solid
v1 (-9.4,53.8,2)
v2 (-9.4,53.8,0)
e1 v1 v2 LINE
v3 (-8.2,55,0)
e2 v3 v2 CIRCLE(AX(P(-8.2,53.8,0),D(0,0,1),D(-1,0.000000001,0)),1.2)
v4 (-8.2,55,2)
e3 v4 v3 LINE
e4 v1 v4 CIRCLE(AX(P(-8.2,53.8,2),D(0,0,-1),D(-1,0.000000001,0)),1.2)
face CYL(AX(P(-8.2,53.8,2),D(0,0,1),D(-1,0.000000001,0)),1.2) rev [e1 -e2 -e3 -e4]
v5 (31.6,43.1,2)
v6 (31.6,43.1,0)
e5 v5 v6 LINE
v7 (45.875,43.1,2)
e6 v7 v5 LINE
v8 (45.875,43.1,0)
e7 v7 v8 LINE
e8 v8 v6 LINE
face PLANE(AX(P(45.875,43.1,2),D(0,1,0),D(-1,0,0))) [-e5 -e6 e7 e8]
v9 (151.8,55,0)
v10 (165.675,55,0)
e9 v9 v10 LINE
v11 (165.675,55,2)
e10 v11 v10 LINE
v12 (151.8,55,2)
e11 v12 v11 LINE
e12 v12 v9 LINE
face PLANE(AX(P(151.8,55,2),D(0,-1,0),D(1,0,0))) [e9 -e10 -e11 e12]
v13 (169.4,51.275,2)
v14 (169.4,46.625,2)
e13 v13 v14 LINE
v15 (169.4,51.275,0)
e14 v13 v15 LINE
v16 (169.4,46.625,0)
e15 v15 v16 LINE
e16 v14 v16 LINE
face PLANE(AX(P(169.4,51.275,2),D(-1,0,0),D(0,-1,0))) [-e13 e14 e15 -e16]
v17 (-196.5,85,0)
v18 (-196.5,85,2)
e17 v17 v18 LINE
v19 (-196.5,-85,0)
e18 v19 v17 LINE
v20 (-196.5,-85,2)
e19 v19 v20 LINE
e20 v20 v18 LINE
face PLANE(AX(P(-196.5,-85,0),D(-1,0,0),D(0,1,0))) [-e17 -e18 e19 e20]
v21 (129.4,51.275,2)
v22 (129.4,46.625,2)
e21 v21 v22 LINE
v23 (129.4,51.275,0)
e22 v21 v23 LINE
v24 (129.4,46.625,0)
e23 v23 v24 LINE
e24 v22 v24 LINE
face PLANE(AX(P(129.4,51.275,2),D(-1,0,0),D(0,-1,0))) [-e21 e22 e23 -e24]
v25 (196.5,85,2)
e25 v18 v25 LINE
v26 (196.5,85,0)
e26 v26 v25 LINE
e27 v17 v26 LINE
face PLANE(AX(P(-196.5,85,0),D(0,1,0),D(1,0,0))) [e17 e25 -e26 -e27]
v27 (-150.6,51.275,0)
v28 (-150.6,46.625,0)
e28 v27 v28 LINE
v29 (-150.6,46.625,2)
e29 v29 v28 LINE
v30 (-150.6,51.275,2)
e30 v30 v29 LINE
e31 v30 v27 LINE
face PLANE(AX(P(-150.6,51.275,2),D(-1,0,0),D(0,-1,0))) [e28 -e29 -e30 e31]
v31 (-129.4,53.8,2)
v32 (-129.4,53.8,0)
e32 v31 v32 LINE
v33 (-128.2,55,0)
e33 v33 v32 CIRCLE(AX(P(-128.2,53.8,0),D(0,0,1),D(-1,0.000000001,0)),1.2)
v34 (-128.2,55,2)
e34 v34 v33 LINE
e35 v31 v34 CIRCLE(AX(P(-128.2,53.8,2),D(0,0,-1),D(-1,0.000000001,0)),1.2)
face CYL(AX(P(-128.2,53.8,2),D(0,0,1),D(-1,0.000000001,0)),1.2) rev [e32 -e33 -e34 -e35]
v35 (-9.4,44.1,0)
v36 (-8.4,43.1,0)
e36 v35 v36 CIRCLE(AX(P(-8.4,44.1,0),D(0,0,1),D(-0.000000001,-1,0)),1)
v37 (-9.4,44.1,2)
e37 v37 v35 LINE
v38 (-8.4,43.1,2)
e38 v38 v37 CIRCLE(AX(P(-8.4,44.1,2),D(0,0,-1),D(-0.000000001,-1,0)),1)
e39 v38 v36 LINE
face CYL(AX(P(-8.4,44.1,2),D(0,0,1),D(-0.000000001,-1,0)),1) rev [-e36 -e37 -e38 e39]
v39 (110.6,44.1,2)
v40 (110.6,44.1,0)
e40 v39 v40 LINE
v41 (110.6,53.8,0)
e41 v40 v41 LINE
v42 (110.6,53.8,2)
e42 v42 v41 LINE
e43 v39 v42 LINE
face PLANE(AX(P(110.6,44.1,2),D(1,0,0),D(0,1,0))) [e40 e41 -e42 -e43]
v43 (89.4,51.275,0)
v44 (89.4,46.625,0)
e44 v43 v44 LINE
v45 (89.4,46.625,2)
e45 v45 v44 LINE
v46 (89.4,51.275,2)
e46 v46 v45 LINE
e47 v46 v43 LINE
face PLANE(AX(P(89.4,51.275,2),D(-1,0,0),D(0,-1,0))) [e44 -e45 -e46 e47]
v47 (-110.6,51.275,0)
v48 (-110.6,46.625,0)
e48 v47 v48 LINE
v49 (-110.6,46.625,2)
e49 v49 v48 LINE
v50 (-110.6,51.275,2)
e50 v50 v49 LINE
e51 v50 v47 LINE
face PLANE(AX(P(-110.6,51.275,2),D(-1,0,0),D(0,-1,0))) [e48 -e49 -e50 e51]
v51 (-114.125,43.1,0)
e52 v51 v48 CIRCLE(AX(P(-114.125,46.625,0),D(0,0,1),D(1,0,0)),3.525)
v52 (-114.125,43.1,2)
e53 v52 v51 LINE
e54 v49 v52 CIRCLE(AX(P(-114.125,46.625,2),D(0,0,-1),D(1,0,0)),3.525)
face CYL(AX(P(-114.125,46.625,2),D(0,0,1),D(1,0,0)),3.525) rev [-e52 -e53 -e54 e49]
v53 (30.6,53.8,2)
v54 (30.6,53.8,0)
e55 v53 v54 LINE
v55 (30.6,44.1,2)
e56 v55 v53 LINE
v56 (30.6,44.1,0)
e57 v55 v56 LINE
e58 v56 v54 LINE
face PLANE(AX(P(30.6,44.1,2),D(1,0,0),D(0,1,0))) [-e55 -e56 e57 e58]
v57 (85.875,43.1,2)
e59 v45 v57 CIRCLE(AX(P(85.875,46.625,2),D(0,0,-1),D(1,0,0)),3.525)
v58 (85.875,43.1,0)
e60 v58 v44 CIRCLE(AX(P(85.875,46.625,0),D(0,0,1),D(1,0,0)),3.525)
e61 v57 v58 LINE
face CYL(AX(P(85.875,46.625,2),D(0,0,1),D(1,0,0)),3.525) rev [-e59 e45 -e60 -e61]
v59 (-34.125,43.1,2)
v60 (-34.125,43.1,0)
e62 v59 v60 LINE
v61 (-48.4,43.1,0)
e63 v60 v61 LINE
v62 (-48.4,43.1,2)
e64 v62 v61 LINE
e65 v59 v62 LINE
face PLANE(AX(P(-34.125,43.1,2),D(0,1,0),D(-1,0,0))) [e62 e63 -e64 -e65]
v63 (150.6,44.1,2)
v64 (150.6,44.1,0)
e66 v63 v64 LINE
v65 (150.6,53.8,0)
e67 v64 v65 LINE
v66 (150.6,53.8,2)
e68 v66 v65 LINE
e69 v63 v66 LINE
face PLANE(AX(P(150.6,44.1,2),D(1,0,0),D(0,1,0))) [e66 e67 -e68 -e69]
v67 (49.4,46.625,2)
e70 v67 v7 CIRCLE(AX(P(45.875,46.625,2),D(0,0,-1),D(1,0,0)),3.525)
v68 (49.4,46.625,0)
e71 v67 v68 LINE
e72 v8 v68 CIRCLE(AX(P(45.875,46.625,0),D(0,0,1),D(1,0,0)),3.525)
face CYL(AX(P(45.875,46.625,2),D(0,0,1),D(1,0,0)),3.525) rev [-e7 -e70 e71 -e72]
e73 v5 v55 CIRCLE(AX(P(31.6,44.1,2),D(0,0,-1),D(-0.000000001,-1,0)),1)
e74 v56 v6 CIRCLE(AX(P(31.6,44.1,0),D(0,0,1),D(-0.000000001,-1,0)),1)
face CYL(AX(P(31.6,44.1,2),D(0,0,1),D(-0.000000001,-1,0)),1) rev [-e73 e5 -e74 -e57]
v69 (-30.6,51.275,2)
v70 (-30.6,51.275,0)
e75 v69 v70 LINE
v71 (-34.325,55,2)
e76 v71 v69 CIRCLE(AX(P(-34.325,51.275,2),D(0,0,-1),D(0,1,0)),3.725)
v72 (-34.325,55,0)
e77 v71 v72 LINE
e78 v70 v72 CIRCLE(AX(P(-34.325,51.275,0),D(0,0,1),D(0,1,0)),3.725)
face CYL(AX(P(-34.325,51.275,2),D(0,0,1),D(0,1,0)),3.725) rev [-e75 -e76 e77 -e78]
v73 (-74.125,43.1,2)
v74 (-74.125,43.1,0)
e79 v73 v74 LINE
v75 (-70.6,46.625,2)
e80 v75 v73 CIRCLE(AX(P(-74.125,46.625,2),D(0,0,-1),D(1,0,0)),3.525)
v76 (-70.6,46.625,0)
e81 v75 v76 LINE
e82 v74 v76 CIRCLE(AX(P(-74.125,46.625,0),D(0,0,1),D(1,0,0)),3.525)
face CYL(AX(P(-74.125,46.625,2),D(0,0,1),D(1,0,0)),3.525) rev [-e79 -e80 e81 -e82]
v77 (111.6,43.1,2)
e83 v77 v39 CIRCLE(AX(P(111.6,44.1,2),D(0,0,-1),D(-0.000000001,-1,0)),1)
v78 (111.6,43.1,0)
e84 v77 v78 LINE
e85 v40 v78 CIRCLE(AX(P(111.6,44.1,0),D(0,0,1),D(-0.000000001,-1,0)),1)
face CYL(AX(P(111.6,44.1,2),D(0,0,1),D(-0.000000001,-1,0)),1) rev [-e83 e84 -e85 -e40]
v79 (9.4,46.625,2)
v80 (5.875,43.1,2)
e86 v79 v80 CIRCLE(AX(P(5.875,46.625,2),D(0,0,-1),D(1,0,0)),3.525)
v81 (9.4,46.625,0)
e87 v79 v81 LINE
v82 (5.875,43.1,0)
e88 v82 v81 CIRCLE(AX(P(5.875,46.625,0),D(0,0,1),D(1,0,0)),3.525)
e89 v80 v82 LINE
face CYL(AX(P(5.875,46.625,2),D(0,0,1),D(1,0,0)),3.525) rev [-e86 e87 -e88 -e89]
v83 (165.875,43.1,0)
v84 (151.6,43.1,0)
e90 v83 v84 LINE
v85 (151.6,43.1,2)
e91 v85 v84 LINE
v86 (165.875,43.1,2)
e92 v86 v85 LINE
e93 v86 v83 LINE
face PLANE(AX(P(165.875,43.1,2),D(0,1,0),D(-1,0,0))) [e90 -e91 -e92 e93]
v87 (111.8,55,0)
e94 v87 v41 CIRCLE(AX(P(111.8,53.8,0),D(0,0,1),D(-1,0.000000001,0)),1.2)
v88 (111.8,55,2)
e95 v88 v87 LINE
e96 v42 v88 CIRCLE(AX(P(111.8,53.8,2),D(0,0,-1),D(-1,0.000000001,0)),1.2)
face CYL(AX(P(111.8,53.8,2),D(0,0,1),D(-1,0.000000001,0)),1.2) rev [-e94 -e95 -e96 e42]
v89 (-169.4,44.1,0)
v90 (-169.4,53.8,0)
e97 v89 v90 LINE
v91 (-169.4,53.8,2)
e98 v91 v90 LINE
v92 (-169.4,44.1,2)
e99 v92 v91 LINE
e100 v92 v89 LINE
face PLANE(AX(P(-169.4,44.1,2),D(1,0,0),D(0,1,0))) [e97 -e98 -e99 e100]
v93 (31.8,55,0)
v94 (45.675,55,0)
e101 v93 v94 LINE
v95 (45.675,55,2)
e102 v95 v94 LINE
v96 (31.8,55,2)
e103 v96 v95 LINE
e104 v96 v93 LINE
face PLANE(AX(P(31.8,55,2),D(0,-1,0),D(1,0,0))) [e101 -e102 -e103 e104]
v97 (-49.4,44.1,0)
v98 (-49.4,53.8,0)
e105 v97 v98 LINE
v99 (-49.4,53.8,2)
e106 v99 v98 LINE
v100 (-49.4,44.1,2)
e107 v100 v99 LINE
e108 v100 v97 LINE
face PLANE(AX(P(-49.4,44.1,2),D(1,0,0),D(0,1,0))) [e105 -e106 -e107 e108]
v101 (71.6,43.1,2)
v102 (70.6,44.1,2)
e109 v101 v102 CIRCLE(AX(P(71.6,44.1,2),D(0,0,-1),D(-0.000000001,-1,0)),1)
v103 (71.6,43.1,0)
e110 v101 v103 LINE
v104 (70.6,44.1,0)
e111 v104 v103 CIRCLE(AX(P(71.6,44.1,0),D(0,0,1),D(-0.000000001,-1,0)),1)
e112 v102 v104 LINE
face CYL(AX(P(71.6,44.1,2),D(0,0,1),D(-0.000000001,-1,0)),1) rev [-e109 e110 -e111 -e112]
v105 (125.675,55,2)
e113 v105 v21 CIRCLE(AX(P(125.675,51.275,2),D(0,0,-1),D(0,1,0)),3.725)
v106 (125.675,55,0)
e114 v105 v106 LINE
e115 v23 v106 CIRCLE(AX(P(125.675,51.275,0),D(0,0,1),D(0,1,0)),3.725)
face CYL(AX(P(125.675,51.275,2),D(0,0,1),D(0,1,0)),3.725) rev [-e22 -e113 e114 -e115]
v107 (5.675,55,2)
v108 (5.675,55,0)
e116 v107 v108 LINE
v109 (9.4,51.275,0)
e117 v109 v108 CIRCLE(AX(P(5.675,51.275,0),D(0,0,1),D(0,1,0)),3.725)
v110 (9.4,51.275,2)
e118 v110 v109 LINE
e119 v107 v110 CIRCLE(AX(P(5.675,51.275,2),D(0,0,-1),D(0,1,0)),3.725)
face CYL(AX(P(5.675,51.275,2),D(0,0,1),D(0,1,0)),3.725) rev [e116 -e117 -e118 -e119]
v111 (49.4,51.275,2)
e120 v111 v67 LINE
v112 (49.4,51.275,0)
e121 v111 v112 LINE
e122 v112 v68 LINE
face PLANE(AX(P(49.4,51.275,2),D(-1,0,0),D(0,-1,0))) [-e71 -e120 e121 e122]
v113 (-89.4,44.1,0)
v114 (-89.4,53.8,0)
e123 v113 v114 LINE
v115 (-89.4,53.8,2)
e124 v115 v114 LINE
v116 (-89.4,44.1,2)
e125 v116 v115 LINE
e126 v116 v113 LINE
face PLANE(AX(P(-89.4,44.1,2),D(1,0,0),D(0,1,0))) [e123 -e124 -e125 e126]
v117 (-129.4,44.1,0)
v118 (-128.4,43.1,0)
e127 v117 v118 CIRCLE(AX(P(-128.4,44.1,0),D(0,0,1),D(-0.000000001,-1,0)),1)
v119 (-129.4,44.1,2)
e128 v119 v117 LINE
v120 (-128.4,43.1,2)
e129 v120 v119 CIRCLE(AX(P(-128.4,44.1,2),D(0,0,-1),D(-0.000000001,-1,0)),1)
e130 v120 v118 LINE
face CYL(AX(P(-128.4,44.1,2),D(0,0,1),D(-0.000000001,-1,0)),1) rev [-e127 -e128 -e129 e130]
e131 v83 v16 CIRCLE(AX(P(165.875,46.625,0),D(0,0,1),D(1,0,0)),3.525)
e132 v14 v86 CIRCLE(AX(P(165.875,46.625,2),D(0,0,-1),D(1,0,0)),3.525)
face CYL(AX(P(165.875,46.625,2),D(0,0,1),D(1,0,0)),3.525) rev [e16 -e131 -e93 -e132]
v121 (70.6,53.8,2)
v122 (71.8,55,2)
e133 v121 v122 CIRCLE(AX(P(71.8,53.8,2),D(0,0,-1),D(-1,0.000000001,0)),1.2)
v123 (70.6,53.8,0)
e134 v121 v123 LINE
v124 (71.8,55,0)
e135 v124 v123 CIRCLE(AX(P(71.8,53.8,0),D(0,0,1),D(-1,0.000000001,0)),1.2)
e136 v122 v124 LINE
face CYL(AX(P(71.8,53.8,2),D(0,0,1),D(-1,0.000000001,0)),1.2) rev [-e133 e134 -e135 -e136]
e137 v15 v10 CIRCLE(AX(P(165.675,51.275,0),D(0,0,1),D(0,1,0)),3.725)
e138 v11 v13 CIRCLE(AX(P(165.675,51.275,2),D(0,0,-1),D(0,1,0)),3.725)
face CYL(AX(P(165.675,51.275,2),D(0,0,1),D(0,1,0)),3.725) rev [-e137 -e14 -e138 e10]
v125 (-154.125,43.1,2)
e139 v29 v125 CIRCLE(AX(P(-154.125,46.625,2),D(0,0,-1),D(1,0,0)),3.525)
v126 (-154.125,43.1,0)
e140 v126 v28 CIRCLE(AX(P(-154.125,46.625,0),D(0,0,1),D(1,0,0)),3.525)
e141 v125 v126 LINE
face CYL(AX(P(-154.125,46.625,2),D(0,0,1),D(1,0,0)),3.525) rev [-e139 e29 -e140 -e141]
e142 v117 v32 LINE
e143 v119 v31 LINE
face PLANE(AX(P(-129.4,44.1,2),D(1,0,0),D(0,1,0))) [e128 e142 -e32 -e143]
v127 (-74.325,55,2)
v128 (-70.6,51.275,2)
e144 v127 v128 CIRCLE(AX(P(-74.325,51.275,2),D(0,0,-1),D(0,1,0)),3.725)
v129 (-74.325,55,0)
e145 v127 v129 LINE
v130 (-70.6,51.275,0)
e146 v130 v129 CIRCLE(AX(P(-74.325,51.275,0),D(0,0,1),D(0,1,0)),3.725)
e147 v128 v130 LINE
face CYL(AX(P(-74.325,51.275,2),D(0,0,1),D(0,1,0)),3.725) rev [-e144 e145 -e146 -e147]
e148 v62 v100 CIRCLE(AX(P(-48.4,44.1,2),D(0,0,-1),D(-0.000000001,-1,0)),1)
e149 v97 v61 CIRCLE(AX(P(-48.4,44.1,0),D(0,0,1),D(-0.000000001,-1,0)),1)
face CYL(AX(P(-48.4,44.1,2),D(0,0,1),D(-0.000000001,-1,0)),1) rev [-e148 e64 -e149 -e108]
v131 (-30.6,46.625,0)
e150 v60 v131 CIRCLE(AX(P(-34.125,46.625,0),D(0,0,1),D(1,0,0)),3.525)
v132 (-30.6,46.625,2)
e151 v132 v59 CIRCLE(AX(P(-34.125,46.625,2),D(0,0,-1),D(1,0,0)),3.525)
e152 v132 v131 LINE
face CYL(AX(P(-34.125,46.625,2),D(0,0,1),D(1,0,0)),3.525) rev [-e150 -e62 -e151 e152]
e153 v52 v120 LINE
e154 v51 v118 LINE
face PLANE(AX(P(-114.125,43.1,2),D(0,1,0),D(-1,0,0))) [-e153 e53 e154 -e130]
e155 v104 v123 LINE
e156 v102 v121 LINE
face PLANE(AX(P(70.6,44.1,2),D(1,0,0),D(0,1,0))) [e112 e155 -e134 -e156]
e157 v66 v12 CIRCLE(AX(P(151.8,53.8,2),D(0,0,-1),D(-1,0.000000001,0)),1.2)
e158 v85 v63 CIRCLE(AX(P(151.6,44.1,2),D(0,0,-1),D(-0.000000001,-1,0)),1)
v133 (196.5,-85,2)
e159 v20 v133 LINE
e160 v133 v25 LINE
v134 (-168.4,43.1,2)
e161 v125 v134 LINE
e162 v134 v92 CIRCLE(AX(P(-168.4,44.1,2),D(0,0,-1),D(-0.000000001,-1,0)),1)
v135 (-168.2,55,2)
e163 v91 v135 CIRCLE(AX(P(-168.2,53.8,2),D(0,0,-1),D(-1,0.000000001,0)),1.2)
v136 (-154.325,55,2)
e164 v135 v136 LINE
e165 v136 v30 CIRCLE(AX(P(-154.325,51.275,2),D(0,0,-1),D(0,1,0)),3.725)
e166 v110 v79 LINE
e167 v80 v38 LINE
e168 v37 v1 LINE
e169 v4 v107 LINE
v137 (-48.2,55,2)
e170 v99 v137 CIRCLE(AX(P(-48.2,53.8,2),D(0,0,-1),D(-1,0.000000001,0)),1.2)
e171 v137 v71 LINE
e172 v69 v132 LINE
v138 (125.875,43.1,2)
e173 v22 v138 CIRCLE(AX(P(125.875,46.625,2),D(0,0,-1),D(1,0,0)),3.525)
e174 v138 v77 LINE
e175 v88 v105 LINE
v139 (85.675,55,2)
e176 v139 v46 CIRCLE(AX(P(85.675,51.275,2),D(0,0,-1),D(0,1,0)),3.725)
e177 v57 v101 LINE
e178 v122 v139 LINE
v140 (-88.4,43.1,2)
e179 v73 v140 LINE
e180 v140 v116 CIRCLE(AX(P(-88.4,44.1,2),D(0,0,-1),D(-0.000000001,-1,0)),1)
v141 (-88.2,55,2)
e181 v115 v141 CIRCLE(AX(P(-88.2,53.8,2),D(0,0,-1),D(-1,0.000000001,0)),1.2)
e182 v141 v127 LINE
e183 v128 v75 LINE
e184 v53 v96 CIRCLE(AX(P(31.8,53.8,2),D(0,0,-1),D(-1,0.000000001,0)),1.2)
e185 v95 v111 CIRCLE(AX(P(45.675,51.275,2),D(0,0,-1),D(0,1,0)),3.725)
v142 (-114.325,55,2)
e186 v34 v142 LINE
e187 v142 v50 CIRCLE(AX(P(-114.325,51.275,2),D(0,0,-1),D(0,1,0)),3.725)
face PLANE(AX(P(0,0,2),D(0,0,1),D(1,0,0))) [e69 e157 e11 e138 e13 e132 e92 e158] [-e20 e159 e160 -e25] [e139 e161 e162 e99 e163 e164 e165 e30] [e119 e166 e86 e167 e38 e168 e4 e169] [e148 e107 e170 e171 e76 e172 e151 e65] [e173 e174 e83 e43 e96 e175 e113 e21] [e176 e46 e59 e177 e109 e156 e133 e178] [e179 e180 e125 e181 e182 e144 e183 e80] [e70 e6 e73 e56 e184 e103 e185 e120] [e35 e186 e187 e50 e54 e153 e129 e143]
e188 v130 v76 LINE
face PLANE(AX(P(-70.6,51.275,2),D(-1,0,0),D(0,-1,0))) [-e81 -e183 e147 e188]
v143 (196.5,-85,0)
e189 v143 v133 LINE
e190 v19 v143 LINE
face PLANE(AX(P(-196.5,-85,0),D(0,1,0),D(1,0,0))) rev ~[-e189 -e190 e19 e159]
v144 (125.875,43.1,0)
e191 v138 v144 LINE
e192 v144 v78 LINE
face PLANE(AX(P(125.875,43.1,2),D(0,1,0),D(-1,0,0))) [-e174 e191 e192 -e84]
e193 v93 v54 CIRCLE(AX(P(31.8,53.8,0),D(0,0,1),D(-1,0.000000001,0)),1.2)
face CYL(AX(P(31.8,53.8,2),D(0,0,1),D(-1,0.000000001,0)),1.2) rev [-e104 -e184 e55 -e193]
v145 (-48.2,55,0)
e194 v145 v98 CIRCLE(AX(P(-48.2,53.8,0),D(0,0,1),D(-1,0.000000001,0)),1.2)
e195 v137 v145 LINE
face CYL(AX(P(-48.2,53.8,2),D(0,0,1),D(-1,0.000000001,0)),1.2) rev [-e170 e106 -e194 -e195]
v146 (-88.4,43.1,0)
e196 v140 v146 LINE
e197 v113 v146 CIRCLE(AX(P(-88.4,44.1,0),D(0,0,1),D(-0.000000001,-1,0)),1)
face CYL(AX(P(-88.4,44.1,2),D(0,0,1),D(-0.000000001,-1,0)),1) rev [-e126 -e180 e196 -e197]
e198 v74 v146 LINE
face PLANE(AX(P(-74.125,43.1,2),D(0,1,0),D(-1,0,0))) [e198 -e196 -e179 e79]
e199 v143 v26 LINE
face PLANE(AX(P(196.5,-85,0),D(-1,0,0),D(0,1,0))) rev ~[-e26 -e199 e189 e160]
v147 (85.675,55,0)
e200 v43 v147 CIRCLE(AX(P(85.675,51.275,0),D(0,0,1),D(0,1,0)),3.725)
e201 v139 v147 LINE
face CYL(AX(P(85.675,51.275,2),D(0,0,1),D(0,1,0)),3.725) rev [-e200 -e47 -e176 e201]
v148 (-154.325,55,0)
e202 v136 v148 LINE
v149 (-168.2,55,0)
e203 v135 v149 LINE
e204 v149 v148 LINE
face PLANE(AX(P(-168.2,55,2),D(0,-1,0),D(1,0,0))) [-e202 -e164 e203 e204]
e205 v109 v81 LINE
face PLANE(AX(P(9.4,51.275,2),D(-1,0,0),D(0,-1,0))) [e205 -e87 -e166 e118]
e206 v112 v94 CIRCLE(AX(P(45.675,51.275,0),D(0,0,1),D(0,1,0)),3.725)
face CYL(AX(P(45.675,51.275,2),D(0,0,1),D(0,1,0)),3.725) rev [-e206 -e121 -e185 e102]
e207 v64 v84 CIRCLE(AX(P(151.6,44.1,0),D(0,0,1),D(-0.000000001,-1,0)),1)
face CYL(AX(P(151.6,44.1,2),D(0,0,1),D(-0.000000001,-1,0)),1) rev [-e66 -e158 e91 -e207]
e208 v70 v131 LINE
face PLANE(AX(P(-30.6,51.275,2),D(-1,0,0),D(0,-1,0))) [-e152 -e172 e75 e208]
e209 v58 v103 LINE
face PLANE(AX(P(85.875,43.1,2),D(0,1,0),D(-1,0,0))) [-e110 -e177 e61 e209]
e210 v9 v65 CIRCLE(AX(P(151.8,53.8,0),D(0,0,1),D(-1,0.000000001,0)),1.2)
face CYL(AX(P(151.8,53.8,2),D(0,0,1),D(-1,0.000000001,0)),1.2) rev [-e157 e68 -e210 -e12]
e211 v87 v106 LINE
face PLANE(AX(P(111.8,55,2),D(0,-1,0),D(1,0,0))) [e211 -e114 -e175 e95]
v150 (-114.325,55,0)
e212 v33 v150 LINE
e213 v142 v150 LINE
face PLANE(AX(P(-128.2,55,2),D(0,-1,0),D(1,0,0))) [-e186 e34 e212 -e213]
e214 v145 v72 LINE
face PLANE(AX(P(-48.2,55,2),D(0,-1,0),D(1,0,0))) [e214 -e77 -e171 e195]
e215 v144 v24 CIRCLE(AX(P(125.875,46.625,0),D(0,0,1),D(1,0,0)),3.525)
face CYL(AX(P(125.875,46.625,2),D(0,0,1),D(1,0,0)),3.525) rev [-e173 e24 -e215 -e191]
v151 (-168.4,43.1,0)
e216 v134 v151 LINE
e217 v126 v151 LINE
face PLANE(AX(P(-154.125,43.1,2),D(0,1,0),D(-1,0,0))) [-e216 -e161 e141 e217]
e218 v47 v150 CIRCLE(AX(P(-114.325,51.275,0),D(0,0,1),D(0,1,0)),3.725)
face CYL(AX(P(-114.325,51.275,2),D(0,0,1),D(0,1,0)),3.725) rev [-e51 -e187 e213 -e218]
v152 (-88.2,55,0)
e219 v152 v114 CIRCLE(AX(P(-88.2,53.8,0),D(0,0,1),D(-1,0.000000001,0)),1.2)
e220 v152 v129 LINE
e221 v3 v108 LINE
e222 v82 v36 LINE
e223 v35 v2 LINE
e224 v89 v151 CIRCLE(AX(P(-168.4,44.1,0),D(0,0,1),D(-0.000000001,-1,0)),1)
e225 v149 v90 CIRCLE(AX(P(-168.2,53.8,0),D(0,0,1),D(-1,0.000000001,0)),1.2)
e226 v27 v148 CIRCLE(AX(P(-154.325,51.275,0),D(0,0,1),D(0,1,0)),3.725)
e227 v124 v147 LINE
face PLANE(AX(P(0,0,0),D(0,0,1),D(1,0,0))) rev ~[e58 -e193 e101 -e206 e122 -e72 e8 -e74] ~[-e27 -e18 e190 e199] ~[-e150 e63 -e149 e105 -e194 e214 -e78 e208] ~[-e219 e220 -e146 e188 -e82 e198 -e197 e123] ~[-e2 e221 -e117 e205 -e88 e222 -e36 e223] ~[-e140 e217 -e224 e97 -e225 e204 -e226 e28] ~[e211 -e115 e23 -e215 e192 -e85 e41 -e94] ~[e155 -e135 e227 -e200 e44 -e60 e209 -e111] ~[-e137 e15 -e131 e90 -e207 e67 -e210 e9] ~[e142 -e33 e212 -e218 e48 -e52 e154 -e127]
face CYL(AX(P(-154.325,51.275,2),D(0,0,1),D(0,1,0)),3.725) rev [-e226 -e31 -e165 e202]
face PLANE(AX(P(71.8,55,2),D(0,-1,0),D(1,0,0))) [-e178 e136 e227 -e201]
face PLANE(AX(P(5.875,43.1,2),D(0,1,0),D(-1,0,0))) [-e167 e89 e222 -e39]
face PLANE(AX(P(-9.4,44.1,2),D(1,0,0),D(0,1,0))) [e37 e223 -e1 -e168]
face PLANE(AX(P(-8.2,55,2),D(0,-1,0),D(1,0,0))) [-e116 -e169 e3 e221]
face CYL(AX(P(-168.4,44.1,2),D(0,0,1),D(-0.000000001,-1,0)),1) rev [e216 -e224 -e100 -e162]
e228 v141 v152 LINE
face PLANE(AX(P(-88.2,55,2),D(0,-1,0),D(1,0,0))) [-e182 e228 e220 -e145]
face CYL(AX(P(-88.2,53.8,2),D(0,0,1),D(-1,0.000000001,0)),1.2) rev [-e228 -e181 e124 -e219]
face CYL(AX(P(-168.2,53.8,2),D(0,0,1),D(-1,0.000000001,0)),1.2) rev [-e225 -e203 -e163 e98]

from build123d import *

# Parameters (mm, degrees)
MODEL_W             = 393
MODEL_H             = 170
BOSS_EXTRUDE1_DEPTH = 2
CUT_EXTRUDE1_DEPTH  = 215.105698196


with BuildPart() as part:
    # Model → Boss-Extrude1 (new body)
    with BuildSketch(Plane.XY):
        Rectangle(MODEL_W, MODEL_H)
    extrude(amount=BOSS_EXTRUDE1_DEPTH)

    # Sketch1 → Cut-Extrude1 (cut, through all)
    with BuildSketch(Plane.XY.offset(2)):
        with BuildLine():
            Line((-154.125, 43.1), (-168.4, 43.1))
            ThreePointArc((-168.4, 43.1), (-169.107106781, 43.392893219), (-169.4, 44.1))
            Line((-169.4, 44.1), (-169.4, 53.8))
            ThreePointArc((-169.4, 53.8), (-169.048528137, 54.648528137), (-168.2, 55))
            Line((-168.2, 55), (-154.325, 55))
            ThreePointArc((-154.325, 55), (-151.69102724, 53.90897276), (-150.6, 51.275))
            Line((-150.6, 51.275), (-150.6, 46.625))
            ThreePointArc((-150.6, 46.625), (-151.632448596, 44.132448596), (-154.125, 43.1))
        make_face()
        with BuildLine():
            Line((-114.125, 43.1), (-128.4, 43.1))
            ThreePointArc((-128.4, 43.1), (-129.107106781, 43.392893219), (-129.4, 44.1))
            Line((-129.4, 44.1), (-129.4, 53.8))
            ThreePointArc((-129.4, 53.8), (-129.048528137, 54.648528137), (-128.2, 55))
            Line((-128.2, 55), (-114.325, 55))
            ThreePointArc((-114.325, 55), (-111.69102724, 53.90897276), (-110.6, 51.275))
            Line((-110.6, 51.275), (-110.6, 46.625))
            ThreePointArc((-110.6, 46.625), (-111.632448596, 44.132448596), (-114.125, 43.1))
        make_face()
        with BuildLine():
            Line((-74.125, 43.1), (-88.4, 43.1))
            ThreePointArc((-88.4, 43.1), (-89.107106781, 43.392893219), (-89.4, 44.1))
            Line((-89.4, 44.1), (-89.4, 53.8))
            ThreePointArc((-89.4, 53.8), (-89.048528137, 54.648528137), (-88.2, 55))
            Line((-88.2, 55), (-74.325, 55))
            ThreePointArc((-74.325, 55), (-71.69102724, 53.90897276), (-70.6, 51.275))
            Line((-70.6, 51.275), (-70.6, 46.625))
            ThreePointArc((-70.6, 46.625), (-71.632448596, 44.132448596), (-74.125, 43.1))
        make_face()
        with BuildLine():
            Line((-34.125, 43.1), (-48.4, 43.1))
            ThreePointArc((-48.4, 43.1), (-49.107106781, 43.392893219), (-49.4, 44.1))
            Line((-49.4, 44.1), (-49.4, 53.8))
            ThreePointArc((-49.4, 53.8), (-49.048528137, 54.648528137), (-48.2, 55))
            Line((-48.2, 55), (-34.325, 55))
            ThreePointArc((-34.325, 55), (-31.69102724, 53.90897276), (-30.6, 51.275))
            Line((-30.6, 51.275), (-30.6, 46.625))
            ThreePointArc((-30.6, 46.625), (-31.632448596, 44.132448596), (-34.125, 43.1))
        make_face()
        with BuildLine():
            Line((5.875, 43.1), (-8.4, 43.1))
            ThreePointArc((-8.4, 43.1), (-9.107106781, 43.392893219), (-9.4, 44.1))
            Line((-9.4, 44.1), (-9.4, 53.8))
            ThreePointArc((-9.4, 53.8), (-9.048528137, 54.648528137), (-8.2, 55))
            Line((-8.2, 55), (5.675, 55))
            ThreePointArc((5.675, 55), (8.30897276, 53.90897276), (9.4, 51.275))
            Line((9.4, 51.275), (9.4, 46.625))
            ThreePointArc((9.4, 46.625), (8.367551404, 44.132448596), (5.875, 43.1))
        make_face()
        with BuildLine():
            Line((45.875, 43.1), (31.6, 43.1))
            ThreePointArc((31.6, 43.1), (30.892893219, 43.392893219), (30.6, 44.1))
            Line((30.6, 44.1), (30.6, 53.8))
            ThreePointArc((30.6, 53.8), (30.951471863, 54.648528137), (31.8, 55))
            Line((31.8, 55), (45.675, 55))
            ThreePointArc((45.675, 55), (48.30897276, 53.90897276), (49.4, 51.275))
            Line((49.4, 51.275), (49.4, 46.625))
            ThreePointArc((49.4, 46.625), (48.367551404, 44.132448596), (45.875, 43.1))
        make_face()
        with BuildLine():
            Line((85.875, 43.1), (71.6, 43.1))
            ThreePointArc((71.6, 43.1), (70.892893219, 43.392893219), (70.6, 44.1))
            Line((70.6, 44.1), (70.6, 53.8))
            ThreePointArc((70.6, 53.8), (70.951471863, 54.648528137), (71.8, 55))
            Line((71.8, 55), (85.675, 55))
            ThreePointArc((85.675, 55), (88.30897276, 53.90897276), (89.4, 51.275))
            Line((89.4, 51.275), (89.4, 46.625))
            ThreePointArc((89.4, 46.625), (88.367551404, 44.132448596), (85.875, 43.1))
        make_face()
        with BuildLine():
            Line((125.875, 43.1), (111.6, 43.1))
            ThreePointArc((111.6, 43.1), (110.892893219, 43.392893219), (110.6, 44.1))
            Line((110.6, 44.1), (110.6, 53.8))
            ThreePointArc((110.6, 53.8), (110.951471863, 54.648528137), (111.8, 55))
            Line((111.8, 55), (125.675, 55))
            ThreePointArc((125.675, 55), (128.30897276, 53.90897276), (129.4, 51.275))
            Line((129.4, 51.275), (129.4, 46.625))
            ThreePointArc((129.4, 46.625), (128.367551404, 44.132448596), (125.875, 43.1))
        make_face()
        with BuildLine():
            Line((165.875, 43.1), (151.6, 43.1))
            ThreePointArc((151.6, 43.1), (150.892893219, 43.392893219), (150.6, 44.1))
            Line((150.6, 44.1), (150.6, 53.8))
            ThreePointArc((150.6, 53.8), (150.951471863, 54.648528137), (151.8, 55))
            Line((151.8, 55), (165.675, 55))
            ThreePointArc((165.675, 55), (168.30897276, 53.90897276), (169.4, 51.275))
            Line((169.4, 51.275), (169.4, 46.625))
            ThreePointArc((169.4, 46.625), (168.367551404, 44.132448596), (165.875, 43.1))
        make_face()
    extrude(amount=-CUT_EXTRUDE1_DEPTH, mode=Mode.SUBTRACT)


solid = part.part
